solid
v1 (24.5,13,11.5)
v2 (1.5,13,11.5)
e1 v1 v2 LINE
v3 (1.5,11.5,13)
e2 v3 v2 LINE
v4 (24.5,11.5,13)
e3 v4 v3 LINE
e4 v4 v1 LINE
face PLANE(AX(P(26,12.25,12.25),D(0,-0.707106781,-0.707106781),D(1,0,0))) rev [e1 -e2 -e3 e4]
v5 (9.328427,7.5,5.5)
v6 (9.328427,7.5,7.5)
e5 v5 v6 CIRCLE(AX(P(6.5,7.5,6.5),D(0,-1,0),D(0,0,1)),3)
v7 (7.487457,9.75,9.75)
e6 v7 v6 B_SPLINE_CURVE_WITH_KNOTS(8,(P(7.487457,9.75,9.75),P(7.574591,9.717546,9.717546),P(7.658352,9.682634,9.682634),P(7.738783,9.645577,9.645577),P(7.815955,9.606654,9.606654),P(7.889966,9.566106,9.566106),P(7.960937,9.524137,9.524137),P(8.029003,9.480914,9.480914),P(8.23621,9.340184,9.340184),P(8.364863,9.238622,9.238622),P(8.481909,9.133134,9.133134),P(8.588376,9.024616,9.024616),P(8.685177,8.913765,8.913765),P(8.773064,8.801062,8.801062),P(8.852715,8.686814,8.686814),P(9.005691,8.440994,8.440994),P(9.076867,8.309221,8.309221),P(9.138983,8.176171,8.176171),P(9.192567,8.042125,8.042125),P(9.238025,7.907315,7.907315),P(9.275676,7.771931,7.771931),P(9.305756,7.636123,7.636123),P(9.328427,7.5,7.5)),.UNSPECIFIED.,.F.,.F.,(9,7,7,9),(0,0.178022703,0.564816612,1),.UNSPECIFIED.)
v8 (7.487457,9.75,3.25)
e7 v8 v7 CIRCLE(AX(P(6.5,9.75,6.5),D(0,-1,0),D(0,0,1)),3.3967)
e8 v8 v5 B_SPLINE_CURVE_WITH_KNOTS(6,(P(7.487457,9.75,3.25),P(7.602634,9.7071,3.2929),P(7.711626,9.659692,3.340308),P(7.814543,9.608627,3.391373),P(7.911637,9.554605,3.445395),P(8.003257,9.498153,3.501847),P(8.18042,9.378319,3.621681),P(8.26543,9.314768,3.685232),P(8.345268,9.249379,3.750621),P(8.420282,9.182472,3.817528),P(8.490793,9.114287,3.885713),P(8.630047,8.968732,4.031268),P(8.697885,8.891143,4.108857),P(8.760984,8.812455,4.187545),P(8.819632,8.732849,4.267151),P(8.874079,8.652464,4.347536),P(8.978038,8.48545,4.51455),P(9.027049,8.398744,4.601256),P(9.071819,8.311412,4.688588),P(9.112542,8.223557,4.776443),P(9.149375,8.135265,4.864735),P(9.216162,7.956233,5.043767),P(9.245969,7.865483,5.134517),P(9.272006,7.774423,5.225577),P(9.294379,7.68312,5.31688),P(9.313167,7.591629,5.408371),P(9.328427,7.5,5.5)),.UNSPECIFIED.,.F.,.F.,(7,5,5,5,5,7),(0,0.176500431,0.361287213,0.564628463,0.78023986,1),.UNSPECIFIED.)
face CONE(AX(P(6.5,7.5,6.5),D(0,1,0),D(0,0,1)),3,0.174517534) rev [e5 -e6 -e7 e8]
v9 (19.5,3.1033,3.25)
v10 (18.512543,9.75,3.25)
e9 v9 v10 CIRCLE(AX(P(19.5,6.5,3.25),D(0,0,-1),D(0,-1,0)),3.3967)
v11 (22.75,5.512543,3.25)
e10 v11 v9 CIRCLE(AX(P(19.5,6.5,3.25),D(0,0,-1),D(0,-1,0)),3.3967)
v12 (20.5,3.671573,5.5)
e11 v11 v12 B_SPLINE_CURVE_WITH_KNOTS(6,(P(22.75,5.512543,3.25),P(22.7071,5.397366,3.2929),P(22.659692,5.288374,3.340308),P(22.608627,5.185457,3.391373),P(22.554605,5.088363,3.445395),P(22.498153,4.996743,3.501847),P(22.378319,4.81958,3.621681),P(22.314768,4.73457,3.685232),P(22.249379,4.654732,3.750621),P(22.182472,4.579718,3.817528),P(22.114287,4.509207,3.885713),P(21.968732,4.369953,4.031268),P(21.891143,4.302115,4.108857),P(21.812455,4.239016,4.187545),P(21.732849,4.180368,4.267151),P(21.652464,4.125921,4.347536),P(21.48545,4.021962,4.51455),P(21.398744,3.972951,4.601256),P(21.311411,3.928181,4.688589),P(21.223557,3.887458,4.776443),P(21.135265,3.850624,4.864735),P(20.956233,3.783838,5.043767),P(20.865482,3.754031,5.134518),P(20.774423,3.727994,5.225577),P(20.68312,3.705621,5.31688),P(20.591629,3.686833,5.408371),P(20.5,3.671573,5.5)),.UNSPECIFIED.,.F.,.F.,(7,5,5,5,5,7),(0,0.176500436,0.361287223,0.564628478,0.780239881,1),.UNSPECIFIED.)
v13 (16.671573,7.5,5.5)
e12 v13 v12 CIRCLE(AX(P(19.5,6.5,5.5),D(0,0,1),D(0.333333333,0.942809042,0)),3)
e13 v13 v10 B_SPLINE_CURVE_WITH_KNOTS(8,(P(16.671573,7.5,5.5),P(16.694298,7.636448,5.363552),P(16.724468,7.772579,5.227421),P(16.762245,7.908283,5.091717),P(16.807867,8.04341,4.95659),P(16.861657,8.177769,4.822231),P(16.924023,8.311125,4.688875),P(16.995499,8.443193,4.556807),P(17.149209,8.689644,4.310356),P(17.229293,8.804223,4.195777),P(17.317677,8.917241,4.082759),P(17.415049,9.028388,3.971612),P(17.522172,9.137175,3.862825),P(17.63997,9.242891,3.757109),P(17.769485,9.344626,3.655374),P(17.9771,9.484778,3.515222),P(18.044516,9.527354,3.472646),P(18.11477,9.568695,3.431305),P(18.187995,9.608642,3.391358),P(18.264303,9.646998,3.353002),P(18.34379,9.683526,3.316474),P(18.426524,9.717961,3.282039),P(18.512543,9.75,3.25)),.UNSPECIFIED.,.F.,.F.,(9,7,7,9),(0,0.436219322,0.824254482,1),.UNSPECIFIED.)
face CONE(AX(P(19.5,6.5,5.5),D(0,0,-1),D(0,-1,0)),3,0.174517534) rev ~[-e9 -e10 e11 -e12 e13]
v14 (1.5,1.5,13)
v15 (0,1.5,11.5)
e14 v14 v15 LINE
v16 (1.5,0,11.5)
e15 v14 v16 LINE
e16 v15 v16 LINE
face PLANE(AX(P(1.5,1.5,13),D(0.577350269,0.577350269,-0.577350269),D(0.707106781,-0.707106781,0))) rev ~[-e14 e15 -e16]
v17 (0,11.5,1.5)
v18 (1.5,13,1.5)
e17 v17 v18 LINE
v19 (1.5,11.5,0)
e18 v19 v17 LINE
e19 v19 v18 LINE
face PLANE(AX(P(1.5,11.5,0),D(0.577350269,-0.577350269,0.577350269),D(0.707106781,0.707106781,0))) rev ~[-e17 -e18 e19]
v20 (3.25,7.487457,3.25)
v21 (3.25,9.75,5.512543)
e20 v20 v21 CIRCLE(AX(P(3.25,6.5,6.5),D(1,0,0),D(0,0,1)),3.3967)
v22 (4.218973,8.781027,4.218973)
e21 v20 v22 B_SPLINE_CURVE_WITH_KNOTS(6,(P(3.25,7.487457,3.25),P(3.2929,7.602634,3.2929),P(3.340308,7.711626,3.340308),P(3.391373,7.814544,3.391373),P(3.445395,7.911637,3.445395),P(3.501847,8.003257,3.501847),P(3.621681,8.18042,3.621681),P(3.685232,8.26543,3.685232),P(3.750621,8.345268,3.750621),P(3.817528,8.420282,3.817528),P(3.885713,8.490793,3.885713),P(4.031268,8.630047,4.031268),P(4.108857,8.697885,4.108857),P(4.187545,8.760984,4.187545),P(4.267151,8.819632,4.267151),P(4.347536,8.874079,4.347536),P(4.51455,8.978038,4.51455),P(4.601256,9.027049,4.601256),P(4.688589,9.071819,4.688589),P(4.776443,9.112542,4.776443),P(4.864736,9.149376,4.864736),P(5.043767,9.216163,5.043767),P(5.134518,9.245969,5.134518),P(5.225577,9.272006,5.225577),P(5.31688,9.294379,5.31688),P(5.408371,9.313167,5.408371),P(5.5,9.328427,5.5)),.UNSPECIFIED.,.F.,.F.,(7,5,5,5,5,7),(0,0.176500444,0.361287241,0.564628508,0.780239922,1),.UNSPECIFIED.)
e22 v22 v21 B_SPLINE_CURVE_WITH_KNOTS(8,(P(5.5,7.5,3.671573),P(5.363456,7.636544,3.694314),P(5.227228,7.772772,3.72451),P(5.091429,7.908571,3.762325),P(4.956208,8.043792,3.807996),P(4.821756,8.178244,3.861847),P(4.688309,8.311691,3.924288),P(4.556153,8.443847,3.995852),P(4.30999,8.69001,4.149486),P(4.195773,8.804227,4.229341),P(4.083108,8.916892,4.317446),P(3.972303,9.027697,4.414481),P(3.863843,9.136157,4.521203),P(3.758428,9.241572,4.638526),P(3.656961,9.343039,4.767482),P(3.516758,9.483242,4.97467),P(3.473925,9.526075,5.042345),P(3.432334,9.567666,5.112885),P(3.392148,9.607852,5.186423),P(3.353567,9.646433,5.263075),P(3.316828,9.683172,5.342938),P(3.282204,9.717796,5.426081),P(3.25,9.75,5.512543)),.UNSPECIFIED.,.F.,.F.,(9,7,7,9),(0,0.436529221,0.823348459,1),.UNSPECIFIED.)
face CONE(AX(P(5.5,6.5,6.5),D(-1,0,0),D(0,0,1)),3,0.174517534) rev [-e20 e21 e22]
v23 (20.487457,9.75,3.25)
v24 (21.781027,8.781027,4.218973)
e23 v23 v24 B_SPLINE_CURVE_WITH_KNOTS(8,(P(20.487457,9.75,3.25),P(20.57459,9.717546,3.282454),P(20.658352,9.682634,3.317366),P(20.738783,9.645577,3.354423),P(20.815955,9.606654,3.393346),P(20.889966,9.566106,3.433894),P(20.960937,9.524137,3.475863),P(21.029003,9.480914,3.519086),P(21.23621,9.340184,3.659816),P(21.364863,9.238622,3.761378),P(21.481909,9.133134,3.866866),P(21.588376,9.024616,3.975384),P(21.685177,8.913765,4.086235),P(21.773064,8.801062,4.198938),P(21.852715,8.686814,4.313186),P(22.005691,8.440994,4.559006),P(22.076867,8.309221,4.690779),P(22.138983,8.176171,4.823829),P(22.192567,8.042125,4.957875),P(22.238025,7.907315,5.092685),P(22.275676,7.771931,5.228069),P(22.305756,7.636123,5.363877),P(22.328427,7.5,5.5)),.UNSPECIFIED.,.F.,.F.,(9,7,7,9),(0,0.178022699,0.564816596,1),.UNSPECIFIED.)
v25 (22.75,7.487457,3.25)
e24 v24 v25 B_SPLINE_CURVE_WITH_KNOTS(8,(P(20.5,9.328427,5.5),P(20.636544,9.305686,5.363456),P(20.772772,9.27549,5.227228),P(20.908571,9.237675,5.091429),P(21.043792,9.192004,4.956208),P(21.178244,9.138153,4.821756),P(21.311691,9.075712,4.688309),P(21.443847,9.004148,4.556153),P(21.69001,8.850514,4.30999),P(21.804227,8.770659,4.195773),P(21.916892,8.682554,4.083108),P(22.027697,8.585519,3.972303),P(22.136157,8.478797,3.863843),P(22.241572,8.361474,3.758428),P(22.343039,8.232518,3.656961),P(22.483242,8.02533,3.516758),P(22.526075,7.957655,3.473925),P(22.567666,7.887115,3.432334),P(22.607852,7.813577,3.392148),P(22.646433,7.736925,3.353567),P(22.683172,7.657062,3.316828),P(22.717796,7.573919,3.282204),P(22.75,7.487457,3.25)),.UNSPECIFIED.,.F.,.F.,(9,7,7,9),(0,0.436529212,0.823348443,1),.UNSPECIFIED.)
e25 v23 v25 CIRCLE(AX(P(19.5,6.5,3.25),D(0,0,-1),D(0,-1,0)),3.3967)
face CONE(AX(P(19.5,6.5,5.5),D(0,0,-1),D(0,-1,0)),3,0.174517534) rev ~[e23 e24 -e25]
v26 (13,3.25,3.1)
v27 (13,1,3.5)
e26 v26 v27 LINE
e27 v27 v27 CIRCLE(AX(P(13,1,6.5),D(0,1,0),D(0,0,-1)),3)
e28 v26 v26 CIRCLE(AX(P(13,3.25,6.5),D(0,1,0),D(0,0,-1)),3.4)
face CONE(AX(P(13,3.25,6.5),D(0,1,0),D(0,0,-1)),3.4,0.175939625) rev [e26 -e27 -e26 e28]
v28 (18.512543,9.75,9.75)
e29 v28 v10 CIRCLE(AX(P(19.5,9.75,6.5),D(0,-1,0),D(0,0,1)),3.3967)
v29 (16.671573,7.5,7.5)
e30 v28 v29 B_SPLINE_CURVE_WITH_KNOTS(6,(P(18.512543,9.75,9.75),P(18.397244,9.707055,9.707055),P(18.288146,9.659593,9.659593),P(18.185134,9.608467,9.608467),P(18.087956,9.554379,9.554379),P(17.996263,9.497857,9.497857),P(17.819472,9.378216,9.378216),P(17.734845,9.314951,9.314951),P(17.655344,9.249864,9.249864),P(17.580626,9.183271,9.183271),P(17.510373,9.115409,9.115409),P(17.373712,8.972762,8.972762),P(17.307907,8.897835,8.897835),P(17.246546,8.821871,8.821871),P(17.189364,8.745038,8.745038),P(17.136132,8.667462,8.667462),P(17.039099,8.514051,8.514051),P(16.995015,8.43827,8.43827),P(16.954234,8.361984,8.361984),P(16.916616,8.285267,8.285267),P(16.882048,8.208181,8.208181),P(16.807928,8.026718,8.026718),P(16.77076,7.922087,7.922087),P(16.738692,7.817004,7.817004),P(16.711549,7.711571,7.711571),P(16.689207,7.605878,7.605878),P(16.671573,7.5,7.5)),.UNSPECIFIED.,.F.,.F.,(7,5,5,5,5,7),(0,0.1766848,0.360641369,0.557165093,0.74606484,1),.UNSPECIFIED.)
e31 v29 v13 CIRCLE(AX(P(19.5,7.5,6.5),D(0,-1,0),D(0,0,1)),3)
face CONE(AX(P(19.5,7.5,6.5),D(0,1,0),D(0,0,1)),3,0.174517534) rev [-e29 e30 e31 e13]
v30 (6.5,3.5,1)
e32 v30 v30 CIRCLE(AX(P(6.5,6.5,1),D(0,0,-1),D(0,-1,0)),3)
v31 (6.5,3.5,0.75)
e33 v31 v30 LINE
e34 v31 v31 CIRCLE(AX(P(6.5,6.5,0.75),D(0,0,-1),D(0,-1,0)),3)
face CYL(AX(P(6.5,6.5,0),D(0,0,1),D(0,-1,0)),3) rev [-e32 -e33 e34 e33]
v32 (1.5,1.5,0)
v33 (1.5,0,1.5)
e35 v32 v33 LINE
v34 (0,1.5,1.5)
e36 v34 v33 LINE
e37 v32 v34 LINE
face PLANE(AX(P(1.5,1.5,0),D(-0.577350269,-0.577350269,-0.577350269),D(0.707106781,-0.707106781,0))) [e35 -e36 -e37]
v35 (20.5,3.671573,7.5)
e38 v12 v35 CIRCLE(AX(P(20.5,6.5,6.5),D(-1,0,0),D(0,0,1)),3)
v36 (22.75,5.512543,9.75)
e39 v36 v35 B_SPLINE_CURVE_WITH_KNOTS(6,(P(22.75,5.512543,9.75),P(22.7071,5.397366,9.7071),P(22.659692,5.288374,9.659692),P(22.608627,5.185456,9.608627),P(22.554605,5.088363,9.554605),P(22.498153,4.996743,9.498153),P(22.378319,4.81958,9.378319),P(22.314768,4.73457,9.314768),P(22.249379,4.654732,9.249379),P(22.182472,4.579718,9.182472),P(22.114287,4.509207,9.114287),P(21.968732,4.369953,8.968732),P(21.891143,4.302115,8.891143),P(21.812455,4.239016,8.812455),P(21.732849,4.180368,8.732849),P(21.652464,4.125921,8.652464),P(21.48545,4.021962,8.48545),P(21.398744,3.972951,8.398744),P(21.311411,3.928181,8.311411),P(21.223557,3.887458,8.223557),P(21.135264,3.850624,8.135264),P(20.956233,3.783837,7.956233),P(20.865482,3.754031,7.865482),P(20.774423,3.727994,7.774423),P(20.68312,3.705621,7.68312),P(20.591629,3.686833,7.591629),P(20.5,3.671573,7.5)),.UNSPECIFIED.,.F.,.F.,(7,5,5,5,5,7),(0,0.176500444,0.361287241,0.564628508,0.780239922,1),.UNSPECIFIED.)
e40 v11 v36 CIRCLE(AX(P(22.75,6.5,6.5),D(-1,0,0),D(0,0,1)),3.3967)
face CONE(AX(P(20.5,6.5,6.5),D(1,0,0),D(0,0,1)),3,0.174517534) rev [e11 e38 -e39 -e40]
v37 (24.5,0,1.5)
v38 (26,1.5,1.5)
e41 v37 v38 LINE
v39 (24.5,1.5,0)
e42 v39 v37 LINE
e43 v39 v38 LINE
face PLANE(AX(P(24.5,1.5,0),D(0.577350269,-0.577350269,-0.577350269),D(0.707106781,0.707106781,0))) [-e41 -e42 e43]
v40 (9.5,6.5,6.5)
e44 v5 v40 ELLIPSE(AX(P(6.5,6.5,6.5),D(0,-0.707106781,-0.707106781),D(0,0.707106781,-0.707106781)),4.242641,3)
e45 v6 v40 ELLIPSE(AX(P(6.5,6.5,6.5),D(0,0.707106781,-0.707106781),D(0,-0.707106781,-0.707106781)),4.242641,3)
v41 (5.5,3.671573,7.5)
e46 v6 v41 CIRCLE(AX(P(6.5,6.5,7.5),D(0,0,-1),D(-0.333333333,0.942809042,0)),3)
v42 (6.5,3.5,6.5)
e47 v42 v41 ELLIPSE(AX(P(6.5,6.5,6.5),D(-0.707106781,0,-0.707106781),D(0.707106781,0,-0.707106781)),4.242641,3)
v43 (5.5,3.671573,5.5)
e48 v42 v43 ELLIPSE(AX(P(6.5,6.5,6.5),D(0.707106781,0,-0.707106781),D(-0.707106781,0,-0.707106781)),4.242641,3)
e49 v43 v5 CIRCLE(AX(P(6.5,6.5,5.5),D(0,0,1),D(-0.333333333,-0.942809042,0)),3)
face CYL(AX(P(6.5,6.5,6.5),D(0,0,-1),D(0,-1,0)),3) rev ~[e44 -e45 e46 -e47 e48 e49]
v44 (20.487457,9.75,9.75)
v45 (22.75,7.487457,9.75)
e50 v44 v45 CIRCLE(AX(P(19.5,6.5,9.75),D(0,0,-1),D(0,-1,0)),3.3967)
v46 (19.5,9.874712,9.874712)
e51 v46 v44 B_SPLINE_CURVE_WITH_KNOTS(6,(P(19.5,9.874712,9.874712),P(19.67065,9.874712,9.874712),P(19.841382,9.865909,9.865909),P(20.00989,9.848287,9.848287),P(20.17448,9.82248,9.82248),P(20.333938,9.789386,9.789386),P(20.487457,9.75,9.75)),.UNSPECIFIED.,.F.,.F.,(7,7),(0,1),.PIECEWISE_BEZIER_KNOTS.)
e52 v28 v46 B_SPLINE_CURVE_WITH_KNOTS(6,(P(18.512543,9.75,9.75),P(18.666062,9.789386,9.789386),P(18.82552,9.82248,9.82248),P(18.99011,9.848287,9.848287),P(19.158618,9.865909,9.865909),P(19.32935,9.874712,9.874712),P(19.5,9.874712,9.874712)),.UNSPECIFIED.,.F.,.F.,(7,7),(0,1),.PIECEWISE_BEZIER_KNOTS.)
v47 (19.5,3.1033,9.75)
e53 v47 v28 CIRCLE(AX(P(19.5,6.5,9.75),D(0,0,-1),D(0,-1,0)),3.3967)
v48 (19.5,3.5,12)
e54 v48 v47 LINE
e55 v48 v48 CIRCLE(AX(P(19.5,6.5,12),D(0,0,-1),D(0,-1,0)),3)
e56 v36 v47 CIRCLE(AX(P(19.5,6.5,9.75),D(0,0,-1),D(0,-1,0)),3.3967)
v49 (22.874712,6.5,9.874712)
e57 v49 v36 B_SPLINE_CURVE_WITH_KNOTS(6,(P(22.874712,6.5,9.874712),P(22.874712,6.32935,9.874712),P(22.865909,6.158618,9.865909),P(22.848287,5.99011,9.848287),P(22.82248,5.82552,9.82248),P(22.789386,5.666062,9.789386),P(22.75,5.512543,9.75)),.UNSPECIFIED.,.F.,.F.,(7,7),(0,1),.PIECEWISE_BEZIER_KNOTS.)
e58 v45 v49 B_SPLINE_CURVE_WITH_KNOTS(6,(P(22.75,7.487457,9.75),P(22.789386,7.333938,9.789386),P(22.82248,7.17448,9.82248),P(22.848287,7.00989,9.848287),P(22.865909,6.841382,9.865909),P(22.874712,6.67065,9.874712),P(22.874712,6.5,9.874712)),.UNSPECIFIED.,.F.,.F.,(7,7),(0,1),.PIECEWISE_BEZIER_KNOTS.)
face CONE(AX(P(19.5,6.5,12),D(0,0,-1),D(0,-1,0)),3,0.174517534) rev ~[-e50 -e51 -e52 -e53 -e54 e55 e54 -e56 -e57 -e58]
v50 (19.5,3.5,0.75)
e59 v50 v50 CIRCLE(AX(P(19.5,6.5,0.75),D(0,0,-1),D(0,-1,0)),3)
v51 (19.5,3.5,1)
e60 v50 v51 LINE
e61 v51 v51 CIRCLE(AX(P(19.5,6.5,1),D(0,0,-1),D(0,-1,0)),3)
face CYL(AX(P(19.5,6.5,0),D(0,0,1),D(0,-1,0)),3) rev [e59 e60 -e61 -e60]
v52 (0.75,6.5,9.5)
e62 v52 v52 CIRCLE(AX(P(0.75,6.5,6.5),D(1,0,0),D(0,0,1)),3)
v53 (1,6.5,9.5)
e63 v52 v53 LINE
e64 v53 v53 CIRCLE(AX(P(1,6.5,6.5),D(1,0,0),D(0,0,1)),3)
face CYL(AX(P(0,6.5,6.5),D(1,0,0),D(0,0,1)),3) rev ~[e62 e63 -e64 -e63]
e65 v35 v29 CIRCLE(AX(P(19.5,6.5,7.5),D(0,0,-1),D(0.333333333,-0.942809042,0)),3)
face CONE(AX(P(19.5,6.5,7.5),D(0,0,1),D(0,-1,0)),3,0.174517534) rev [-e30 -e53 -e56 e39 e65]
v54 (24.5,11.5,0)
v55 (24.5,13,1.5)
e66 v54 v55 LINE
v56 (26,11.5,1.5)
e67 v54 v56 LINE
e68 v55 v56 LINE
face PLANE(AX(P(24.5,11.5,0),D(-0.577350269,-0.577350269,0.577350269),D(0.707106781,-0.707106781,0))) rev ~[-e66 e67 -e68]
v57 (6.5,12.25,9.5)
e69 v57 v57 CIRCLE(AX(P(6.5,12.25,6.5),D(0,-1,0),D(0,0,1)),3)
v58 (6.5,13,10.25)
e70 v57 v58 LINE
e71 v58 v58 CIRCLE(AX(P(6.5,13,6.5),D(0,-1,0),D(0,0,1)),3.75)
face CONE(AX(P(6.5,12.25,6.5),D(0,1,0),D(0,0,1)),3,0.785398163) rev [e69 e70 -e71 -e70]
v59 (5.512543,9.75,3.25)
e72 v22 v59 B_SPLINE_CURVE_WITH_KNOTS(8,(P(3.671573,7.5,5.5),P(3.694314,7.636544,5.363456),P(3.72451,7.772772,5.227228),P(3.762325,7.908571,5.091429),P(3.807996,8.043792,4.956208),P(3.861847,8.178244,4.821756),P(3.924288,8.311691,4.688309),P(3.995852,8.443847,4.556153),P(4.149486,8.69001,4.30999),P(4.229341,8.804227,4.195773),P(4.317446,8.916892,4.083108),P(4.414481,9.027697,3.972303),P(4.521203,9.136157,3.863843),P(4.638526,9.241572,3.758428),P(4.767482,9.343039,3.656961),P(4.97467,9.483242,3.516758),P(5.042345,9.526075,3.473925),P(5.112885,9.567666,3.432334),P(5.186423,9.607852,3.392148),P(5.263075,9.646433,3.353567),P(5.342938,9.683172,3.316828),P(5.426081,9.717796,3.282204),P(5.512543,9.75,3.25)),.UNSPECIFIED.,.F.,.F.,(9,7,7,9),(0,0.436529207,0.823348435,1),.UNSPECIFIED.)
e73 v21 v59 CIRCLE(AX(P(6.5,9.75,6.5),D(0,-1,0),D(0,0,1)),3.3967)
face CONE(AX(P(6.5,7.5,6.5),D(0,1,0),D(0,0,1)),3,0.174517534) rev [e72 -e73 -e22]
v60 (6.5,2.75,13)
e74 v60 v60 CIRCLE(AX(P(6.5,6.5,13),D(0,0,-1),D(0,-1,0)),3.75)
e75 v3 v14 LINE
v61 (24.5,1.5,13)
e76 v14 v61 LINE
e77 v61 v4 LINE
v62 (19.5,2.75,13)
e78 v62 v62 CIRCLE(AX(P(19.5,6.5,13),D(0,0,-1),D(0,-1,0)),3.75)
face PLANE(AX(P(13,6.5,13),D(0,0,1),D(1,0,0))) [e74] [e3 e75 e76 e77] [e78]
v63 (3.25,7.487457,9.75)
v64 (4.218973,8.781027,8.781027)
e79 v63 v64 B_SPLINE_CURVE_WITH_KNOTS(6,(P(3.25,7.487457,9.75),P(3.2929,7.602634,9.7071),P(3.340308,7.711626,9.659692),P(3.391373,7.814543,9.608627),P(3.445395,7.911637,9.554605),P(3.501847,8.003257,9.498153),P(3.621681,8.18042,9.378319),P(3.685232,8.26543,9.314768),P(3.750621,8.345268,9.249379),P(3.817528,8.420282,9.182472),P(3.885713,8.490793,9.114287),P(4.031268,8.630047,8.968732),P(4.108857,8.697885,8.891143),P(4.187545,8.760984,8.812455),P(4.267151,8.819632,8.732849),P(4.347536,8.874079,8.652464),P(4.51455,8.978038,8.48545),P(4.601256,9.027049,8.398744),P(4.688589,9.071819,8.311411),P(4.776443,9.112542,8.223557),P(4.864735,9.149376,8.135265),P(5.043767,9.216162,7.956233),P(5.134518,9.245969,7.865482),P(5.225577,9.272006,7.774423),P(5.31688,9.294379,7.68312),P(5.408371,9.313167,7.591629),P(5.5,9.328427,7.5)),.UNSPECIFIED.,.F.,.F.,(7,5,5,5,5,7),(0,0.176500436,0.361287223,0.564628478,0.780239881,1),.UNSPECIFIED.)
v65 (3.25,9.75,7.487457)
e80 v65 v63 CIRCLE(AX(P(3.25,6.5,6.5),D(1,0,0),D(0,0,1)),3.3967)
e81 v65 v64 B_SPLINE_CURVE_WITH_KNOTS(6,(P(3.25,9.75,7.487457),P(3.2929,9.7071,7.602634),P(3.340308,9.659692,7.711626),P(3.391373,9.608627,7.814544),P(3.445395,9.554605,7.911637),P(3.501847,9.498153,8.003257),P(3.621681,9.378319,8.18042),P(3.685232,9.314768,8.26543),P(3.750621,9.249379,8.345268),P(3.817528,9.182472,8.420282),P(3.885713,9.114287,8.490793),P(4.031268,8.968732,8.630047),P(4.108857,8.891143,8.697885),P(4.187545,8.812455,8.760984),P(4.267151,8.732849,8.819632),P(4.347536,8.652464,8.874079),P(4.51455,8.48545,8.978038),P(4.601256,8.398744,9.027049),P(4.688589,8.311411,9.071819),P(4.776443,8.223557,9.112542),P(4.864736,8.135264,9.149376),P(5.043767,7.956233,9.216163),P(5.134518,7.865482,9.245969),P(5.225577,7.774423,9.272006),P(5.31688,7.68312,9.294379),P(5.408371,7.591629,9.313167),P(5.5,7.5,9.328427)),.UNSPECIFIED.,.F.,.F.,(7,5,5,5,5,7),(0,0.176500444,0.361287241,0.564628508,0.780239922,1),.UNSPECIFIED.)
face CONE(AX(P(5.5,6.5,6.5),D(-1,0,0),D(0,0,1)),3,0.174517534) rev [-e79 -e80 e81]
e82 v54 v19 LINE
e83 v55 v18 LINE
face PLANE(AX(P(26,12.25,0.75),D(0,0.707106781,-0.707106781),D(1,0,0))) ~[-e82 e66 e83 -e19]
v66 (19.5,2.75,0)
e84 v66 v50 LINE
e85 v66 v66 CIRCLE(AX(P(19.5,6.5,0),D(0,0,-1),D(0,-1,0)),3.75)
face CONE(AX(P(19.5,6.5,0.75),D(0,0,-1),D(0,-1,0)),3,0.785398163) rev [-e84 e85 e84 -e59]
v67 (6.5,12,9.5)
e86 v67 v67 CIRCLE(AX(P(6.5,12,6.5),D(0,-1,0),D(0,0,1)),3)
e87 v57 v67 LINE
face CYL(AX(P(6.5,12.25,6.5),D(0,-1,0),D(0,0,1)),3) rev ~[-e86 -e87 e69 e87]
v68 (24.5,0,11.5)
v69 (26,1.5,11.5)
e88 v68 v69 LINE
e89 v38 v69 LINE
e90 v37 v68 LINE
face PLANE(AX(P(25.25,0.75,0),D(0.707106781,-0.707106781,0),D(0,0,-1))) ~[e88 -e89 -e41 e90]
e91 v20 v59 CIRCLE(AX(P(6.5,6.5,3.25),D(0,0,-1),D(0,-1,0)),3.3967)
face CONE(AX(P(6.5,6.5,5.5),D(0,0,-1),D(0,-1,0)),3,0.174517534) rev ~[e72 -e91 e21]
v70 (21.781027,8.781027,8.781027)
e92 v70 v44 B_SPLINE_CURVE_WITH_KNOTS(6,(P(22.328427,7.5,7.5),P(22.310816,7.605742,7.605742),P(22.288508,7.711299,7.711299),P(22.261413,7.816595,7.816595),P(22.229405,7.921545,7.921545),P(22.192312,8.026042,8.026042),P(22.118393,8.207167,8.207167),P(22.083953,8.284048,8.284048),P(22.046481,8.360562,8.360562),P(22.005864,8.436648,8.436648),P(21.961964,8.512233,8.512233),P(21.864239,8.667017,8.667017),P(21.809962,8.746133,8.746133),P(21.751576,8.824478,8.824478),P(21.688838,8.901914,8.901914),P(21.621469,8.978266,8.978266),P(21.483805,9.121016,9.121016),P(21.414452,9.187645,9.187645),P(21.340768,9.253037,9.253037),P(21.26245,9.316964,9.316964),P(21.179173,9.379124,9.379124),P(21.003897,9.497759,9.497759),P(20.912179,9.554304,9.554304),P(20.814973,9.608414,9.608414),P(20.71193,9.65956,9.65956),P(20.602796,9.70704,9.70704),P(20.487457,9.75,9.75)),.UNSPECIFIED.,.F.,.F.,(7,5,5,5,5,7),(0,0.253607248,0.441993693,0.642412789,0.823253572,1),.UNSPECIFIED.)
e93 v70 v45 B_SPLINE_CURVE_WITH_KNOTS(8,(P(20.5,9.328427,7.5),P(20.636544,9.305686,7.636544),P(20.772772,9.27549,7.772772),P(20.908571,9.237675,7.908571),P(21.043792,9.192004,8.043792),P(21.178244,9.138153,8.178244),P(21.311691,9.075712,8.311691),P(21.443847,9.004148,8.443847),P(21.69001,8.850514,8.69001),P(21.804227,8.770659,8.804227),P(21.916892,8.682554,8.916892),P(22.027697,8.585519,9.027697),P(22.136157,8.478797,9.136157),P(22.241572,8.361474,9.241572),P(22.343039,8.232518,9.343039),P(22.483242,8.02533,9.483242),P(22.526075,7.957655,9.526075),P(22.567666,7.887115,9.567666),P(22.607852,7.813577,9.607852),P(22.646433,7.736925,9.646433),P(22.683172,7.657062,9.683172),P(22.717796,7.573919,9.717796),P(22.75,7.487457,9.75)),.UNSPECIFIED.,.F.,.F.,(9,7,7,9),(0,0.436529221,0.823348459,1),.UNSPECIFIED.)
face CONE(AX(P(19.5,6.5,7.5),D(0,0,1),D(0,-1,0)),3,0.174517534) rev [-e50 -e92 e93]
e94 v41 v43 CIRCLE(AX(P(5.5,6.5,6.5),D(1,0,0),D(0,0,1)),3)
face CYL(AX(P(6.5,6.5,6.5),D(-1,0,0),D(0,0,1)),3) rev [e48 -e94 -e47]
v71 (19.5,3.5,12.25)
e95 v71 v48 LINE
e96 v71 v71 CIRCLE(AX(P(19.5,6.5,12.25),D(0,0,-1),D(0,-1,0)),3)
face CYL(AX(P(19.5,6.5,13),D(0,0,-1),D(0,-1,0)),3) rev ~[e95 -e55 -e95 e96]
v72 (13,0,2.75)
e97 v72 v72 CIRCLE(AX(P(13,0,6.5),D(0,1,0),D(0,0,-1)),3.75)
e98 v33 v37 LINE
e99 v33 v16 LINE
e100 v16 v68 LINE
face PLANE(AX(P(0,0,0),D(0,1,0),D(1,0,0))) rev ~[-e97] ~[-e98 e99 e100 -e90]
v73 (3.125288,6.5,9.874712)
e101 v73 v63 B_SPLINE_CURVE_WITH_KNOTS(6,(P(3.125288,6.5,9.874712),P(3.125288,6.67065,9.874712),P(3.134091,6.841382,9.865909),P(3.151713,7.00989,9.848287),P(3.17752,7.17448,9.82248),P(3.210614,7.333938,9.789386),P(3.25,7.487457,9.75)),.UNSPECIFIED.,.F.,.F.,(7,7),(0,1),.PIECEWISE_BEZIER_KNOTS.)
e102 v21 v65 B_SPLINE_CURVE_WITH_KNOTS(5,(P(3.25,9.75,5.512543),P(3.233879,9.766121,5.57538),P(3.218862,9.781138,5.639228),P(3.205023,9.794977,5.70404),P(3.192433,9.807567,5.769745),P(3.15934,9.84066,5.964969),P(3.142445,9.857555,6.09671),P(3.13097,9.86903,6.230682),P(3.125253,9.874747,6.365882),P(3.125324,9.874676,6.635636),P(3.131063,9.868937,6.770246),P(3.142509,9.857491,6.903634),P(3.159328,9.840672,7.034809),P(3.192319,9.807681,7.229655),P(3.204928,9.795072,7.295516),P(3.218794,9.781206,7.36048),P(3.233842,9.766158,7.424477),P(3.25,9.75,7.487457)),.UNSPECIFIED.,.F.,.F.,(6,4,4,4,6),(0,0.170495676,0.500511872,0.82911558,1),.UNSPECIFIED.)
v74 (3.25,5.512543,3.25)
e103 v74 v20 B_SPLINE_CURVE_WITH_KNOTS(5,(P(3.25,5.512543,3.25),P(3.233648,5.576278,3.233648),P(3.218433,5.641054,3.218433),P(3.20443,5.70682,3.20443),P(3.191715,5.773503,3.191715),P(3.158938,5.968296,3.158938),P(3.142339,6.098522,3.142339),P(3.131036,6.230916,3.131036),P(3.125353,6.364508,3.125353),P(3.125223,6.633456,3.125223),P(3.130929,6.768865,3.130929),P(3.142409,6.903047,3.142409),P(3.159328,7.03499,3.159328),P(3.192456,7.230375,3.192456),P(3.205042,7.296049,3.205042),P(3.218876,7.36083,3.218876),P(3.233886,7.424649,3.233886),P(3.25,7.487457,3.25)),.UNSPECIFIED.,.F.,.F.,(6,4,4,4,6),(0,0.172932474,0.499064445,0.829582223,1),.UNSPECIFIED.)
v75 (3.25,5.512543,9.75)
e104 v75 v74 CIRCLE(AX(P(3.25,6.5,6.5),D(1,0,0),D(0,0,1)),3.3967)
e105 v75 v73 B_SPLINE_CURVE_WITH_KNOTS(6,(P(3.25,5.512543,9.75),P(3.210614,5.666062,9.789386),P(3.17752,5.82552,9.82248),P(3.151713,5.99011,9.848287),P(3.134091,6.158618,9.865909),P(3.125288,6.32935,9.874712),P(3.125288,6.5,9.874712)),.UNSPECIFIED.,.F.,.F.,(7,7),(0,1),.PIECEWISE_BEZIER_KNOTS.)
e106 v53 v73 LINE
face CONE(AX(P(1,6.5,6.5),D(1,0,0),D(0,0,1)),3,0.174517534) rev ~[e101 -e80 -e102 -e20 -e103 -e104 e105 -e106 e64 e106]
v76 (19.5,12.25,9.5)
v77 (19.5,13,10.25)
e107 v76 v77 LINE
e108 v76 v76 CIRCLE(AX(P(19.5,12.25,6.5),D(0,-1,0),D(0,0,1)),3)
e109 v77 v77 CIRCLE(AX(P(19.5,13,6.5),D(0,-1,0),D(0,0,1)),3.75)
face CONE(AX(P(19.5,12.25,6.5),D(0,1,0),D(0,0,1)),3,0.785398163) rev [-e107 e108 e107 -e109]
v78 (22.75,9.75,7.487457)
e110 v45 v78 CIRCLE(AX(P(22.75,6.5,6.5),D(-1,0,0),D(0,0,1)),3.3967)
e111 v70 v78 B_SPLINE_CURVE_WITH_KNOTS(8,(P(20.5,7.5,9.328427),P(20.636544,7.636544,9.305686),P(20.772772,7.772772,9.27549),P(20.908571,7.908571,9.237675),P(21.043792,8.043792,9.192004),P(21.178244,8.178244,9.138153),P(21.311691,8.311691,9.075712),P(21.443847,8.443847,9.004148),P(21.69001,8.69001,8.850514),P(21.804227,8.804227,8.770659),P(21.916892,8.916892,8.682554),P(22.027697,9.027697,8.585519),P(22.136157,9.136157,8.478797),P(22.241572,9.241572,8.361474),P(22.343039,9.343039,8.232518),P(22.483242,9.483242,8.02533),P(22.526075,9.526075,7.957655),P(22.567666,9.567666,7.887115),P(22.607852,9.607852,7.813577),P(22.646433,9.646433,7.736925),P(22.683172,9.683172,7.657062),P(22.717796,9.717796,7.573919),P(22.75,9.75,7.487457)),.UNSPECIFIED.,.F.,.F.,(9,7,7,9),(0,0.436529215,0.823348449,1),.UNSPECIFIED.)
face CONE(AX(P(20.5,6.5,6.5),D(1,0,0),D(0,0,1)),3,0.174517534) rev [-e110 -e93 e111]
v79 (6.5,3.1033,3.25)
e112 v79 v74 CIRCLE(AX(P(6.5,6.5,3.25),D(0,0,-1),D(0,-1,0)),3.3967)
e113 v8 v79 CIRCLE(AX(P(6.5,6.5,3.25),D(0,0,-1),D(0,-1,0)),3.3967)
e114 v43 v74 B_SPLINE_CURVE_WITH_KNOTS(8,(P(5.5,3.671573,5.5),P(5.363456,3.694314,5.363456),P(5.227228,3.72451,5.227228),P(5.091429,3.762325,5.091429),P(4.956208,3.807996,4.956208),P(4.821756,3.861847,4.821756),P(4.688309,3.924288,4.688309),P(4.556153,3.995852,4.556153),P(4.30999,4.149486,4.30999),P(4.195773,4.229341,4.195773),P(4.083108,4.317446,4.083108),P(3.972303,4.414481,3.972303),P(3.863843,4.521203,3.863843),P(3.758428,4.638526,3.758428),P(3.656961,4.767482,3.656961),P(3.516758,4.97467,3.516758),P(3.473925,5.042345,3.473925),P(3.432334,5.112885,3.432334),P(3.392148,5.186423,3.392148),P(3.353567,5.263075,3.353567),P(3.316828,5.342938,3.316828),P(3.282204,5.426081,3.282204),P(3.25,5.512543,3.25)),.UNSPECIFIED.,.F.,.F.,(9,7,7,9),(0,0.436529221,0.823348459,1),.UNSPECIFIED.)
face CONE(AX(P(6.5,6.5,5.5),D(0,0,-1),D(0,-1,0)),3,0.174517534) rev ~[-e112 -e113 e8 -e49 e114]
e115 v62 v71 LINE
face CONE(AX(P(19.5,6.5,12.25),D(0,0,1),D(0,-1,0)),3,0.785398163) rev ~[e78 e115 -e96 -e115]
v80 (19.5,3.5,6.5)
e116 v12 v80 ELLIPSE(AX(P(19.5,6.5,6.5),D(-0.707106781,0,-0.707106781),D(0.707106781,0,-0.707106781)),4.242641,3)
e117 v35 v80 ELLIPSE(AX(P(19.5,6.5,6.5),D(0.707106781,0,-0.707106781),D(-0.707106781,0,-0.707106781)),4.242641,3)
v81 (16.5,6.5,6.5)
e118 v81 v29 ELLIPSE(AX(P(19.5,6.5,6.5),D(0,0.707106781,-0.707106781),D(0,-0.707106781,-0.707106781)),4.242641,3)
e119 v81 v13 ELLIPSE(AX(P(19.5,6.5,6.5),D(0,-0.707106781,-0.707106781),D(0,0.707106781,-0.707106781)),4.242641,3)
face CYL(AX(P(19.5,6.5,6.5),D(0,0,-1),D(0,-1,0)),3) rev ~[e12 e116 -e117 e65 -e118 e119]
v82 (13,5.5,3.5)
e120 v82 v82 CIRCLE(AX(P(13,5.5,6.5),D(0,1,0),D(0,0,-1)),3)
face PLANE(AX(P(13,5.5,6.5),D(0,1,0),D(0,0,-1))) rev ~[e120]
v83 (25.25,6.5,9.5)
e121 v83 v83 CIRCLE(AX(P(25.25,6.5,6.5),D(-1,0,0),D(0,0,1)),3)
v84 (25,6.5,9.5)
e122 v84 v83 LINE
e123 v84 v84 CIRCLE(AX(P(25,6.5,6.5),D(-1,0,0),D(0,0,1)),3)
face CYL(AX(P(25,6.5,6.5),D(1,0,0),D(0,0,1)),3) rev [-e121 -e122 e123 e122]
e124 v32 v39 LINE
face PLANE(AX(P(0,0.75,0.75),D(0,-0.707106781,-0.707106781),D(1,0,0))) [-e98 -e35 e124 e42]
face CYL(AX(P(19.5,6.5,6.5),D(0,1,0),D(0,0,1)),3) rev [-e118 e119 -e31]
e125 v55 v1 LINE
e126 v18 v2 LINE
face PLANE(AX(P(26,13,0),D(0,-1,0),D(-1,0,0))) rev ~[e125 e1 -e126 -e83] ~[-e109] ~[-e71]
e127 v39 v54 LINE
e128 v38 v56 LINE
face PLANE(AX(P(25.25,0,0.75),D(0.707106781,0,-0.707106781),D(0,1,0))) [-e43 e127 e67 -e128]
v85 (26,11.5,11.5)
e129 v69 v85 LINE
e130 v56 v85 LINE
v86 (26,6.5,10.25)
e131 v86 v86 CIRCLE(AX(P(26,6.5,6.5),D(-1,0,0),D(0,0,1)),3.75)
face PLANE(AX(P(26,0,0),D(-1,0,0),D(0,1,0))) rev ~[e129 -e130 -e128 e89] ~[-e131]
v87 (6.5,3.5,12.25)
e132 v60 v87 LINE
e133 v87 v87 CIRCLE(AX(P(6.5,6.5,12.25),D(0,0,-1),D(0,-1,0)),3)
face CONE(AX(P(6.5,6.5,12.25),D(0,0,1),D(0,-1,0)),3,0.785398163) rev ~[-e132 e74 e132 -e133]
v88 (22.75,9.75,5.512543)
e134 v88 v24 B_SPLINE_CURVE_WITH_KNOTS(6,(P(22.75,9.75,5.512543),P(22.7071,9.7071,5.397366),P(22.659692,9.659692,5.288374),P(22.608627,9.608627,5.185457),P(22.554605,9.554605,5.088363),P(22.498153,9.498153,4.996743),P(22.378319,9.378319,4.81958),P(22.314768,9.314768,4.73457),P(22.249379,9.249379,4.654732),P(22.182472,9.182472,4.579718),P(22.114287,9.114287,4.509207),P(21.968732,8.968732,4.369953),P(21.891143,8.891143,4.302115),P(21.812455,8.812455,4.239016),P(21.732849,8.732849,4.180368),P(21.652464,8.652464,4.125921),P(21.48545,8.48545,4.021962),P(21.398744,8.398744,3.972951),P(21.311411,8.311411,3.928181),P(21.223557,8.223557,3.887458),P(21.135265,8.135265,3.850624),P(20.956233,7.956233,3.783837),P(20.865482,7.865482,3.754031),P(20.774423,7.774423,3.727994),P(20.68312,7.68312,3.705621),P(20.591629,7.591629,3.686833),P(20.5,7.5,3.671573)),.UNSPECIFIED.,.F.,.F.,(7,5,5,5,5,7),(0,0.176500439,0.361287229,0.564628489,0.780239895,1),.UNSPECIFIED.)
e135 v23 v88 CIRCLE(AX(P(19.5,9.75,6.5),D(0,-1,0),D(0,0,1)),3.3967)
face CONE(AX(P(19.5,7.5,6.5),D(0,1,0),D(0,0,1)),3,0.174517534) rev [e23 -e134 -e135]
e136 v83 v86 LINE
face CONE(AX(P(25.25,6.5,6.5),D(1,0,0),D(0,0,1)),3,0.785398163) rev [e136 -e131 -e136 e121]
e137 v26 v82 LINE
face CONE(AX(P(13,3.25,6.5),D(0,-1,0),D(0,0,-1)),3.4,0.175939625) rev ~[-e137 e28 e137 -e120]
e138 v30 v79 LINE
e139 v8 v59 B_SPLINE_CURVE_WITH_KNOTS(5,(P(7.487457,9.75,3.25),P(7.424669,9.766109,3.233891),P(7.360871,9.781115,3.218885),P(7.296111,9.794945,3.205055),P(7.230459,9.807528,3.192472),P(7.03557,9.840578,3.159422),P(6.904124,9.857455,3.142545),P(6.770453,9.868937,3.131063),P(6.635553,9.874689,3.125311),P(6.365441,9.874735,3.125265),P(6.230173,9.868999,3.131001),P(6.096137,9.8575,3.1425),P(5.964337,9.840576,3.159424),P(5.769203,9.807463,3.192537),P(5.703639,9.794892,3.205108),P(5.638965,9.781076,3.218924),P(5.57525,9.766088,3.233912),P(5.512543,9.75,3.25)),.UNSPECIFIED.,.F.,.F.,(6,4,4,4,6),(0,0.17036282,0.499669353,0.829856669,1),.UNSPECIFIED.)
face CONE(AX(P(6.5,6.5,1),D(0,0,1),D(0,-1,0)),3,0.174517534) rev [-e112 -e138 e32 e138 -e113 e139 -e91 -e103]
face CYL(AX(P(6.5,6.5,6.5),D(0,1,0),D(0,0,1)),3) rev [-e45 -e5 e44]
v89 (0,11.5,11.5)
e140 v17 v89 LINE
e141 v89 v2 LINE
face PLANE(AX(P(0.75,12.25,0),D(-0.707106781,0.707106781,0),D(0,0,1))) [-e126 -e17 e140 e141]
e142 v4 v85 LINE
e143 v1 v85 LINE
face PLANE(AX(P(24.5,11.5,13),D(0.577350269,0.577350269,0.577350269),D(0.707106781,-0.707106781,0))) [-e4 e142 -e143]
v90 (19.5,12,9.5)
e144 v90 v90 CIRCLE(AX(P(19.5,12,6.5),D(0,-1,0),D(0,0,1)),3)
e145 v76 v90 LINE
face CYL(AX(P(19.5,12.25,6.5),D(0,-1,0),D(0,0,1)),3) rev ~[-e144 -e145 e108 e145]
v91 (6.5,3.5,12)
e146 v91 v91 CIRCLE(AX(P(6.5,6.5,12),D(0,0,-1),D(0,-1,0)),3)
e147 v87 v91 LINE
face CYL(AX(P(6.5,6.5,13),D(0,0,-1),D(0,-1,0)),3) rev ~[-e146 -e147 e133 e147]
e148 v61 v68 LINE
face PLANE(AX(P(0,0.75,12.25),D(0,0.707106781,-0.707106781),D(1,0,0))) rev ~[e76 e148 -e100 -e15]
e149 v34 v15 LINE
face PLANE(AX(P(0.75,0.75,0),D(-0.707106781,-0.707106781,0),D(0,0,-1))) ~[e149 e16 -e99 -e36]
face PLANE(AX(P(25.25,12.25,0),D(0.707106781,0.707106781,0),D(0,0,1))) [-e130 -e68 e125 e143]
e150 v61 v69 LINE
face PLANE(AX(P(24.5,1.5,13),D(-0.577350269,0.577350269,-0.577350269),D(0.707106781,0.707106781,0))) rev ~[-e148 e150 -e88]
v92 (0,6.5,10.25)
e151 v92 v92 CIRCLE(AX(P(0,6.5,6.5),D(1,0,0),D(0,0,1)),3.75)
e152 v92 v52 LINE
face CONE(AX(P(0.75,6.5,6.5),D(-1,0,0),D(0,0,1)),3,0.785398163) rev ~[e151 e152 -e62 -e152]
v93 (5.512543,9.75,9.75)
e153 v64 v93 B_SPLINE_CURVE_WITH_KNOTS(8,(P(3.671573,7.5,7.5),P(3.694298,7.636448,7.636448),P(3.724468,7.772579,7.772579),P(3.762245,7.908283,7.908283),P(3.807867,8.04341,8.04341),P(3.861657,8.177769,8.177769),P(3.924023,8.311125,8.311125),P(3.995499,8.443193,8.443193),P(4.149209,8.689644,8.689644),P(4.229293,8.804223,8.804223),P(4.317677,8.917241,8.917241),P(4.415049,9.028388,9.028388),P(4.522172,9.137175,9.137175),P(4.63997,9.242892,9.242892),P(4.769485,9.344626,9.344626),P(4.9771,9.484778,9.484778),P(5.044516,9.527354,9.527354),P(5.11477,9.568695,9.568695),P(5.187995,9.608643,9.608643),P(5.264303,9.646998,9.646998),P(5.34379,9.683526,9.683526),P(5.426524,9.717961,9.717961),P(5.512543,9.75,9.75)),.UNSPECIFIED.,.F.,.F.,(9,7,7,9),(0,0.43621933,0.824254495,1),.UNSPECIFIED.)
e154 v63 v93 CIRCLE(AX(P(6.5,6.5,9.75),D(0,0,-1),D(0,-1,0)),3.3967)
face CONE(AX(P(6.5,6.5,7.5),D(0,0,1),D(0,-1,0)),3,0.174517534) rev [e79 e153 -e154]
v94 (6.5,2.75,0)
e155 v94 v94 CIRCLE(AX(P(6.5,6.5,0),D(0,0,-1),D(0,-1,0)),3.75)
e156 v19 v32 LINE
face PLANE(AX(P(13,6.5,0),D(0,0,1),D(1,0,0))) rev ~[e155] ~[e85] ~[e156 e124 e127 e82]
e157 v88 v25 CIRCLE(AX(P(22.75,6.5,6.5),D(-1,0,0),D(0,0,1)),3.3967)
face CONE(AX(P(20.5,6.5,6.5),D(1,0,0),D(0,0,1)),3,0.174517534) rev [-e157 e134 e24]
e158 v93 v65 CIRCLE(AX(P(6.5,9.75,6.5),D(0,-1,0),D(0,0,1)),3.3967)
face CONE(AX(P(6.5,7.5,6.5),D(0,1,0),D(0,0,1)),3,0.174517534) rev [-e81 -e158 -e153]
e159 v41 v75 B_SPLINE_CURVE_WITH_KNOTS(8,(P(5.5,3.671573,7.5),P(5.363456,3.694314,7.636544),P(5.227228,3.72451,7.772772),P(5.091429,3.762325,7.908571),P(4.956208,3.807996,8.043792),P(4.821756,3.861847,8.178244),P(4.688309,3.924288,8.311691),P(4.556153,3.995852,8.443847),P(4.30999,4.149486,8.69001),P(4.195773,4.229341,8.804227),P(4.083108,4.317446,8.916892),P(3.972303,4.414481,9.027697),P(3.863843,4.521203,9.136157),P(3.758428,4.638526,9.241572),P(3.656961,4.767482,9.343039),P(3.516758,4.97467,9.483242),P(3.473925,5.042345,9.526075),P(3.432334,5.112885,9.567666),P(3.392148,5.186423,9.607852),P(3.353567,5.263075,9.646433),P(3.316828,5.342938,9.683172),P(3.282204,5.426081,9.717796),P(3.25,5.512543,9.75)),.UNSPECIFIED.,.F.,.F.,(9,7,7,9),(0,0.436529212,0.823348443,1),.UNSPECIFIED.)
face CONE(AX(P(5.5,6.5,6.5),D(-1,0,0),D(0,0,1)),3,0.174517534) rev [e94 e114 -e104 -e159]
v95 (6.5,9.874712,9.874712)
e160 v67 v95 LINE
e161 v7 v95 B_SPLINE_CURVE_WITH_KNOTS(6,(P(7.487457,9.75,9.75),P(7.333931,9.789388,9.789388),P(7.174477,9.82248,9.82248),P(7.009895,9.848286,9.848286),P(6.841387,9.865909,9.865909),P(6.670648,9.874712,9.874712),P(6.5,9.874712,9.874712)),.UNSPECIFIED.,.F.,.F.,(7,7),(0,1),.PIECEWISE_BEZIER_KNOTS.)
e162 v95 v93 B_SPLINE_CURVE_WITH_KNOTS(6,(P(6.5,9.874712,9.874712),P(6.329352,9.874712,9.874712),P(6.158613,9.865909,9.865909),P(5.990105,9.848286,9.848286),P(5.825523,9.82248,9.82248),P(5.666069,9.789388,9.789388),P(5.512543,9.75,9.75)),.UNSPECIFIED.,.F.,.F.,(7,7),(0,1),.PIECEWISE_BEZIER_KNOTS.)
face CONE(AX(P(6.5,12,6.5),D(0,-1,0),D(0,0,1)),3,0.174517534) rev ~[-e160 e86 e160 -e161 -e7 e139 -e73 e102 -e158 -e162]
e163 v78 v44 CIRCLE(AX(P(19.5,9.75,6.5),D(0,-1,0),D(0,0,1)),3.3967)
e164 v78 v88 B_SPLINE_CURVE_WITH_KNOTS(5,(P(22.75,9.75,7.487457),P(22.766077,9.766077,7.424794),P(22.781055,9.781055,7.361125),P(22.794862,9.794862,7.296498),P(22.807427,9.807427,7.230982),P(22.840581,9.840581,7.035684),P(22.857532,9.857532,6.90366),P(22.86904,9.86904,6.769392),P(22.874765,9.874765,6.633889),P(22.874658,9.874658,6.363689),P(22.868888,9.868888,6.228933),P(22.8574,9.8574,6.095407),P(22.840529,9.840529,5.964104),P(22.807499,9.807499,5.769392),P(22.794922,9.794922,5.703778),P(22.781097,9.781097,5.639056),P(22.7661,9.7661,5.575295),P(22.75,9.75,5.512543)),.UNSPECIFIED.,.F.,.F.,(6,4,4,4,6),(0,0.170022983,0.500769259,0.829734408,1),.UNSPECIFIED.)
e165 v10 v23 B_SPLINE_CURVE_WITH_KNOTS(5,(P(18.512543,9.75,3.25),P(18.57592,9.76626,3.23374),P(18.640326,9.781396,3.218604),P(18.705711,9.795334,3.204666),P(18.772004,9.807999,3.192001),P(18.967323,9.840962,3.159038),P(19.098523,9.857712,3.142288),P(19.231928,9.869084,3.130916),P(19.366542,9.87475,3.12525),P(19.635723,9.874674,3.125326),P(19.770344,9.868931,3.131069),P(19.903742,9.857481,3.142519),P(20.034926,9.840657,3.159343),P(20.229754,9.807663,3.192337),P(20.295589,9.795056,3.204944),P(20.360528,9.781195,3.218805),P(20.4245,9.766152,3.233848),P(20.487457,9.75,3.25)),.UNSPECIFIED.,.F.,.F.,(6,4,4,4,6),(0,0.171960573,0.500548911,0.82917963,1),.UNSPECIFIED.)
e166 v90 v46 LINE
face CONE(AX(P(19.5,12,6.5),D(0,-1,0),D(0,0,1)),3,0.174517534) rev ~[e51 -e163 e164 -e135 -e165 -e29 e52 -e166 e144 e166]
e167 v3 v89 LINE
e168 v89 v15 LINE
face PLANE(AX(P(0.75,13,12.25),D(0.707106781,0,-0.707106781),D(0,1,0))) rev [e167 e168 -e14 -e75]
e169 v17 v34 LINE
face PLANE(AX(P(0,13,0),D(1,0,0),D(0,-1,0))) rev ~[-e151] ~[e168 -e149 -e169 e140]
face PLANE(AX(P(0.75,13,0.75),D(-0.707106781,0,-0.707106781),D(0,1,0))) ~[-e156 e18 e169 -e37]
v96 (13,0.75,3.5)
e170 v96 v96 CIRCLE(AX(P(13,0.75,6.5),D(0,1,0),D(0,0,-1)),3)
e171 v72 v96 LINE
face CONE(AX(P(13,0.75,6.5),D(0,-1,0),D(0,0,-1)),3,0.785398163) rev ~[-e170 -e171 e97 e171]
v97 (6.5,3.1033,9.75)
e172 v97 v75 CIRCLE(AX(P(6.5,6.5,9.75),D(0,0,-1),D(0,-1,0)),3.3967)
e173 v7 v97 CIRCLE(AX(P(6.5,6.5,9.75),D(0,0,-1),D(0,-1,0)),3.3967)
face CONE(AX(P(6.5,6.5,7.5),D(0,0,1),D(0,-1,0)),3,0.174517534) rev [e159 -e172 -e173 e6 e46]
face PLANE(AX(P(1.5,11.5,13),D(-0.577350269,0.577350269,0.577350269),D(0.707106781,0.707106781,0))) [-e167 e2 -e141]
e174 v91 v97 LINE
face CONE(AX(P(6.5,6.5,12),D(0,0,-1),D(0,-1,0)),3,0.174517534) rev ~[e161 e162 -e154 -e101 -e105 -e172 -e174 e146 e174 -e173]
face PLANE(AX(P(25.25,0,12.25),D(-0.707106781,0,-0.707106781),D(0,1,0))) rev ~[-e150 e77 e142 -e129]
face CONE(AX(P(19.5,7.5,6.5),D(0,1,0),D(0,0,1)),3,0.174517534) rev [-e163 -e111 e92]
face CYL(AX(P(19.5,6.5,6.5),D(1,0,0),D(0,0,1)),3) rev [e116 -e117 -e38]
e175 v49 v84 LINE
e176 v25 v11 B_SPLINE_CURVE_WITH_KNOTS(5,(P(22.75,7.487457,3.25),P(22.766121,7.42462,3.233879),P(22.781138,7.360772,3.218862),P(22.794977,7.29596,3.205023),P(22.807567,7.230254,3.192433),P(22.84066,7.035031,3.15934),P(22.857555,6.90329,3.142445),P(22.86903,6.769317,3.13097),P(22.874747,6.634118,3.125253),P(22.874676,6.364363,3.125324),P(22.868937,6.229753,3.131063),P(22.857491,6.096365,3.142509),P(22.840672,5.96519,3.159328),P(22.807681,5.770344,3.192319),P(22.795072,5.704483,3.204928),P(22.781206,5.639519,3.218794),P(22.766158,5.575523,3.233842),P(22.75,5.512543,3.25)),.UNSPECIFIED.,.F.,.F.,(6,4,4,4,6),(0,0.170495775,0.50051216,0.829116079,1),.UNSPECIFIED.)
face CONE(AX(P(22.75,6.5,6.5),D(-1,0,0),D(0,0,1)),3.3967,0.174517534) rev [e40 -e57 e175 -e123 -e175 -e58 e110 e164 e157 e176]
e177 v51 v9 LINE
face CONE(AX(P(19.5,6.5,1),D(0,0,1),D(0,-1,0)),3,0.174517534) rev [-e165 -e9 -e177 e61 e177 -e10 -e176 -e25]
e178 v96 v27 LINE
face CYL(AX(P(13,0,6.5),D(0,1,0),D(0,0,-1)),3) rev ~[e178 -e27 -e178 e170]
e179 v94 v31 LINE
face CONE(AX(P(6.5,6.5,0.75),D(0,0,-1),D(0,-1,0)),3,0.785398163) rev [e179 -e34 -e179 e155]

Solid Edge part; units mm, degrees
sketch "Sketch1" plane through (0, 0, 0) normal (0, 0, 1) x (1, 0, 0)
  line L0 (26, 0) -> (26, 13)
  line L1 (26, 13) -> (0, 13)
  line L2 (0, 13) -> (0, 0)
  line L3 (0, 0) -> (26, 0)
extrude "Protrusion1" add sketch "Sketch1" along normal blind 13
sketch "Sketch2" plane through (6.5, 32.5, 6.5) normal (-1, 0, 0) x (0, -1, 0)
  line L0 (29, 6.5) -> (26, 6.5)
  line L1 (26, 6.5) -> (26, -6.5)
  line L2 (26, -6.5) -> (29, -6.5)
  line L3 (29, -6.5) -> (29, -5.5)
  line L4 (29, -5.5) -> (29.3967, -3.25)
  line L5 (29, -1) -> (29.3967, -3.25)
  line L6 (29, 0) -> (29, -1)
  line L7 (29, 0) -> (29, 1)
  line L8 (29, 1) -> (29.3967, 3.25)
  line L9 (29, 5.5) -> (29.3967, 3.25)
  line L10 (29, 6.5) -> (29, 5.5)
revolve "RevolvedCutout1" cut sketch "Sketch2" angle 360 about axis through (6.5, 6.5, 13) along (0, 0, -1)
chamfer "Chaflán_1" distance 0.75 angle 45 2 edges at (3.5, 6.5, 13) (3.5, 6.5, 0)
pattern_linear "Pattern1" count 2 spacing 13 along (0, 1, 0) count 8 spacing 13 along (1, 0, 0) of "RevolvedCutout1", "Chaflán_1"
revolve "RevolvedCutout2" [suppressed]
chamfer "Chaflán_2" [suppressed]
pattern "Pattern3" [suppressed]
sketch "Sketch3" plane through (13, 6.5, 6.5) normal (0, -1, 0) x (1, 0, 0)
  line L0 (-13, 3) -> (-12, 3)
  line L1 (-12, 3) -> (-9.75, 3.3967)
  line L2 (-7.5, 3) -> (-9.75, 3.3967)
  line L3 (-6.5, 3) -> (-7.5, 3)
  line L4 (-6.5, 0) -> (-6.5, 3)
  line L5 (-13, 0) -> (-6.5, 0)
  line L6 (-13, 3) -> (-13, 0)
revolve "RevolvedCutout3" cut sketch "Sketch3" angle 360 about axis through (0, 6.5, 6.5) along (1, 0, 0)
chamfer "Chaflán_531" distance 0.75 angle 45 1 edges at (0, 6.5, 3.5)
pattern_linear "Pattern4" count 2 spacing 13 along (0, 1, 0) of "RevolvedCutout3"
chamfer "Chamfer1" [suppressed]
sketch "Sketch4" plane through (13, 6.5, 6.5) normal (0, -1, 0) x (1, 0, 0)
  line L0 (9.75, 3.3967) -> (12, 3)
  line L1 (12, 3) -> (12.25, 3)
  line L2 (12.25, 3) -> (13, 3.75)
  line L3 (13, 3) -> (13, 3.75)
  line L4 (13, 0) -> (13, 3)
  line L5 (13, 0) -> (6.5, 0)
  line L6 (6.5, 0) -> (6.5, 3)
  line L7 (6.5, 3) -> (7.5, 3)
  line L8 (7.5, 3) -> (9.75, 3.3967)
revolve "RevolvedCutout5" cut sketch "Sketch4" angle 360 about axis through (52, 6.5, 6.5) along (-1, 0, 0)
pattern_linear "Pattern5" count 2 spacing 13 along (0, 1, 0) of "RevolvedCutout5"
sketch "Sketch5" plane through (6.5, 32.5, 6.5) normal (-1, 0, 0) x (0, -1, 0)
  line L0 (20.25, 3) -> (20.5, 3)
  line L1 (20.5, 3) -> (22.75, 3.3967)
  line L2 (25, 3) -> (22.75, 3.3967)
  line L3 (26, 3) -> (25, 3)
  line L4 (26, 0) -> (26, 3)
  line L5 (19.5, 0) -> (26, 0)
  line L6 (19.5, 3) -> (19.5, 0)
  line L7 (19.5, 3) -> (19.5, 3.75)
  line L8 (20.25, 3) -> (19.5, 3.75)
revolve "RevolvedCutout7" cut sketch "Sketch5" angle 360 about axis through (6.5, 182, 6.5) along (0, -1, 0)
pattern_linear "Pattern6" count 2 spacing 13 along (1, 0, 0) of "RevolvedCutout7"
chamfer "Chaflán_547" distance 1.5 angle 45 12 edges at (0, 0, 6.5) (26, 0, 6.5) (0, 13, 6.5) (26, 13, 6.5) (0, 6.5, 13) (13, 13, 13) (13, 0, 13) (26, 6.5, 13) (0, 6.5, 0) (13, 0, 0) (13, 13, 0) (26, 6.5, 0)
sketch "Sketch6" plane through (13, 32.5, 6.5) normal (-1, 0, 0) x (0, -1, 0)
  line L0 (29.25, -3.4) -> (27, -3)
  line L1 (27, -3) -> (27, 0)
  line L2 (29.25, 0) -> (27, 0)
  line L3 (31.5, 0) -> (29.25, 0)
  line L4 (32.5, 0) -> (31.5, 0)
  line L5 (32.5, 0) -> (32.5, -3)
  line L6 (32.5, -3) -> (31.5, -3)
  line L7 (29.25, -3.4) -> (31.5, -3)
revolve "RevolvedCutout9" cut sketch "Sketch6" angle 360 about axis through (13, 1, 6.5) along (0, 1, 0)
chamfer "Chaflán_548" distance 0.75 angle 45 1 edges at (10, 0, 6.5)
